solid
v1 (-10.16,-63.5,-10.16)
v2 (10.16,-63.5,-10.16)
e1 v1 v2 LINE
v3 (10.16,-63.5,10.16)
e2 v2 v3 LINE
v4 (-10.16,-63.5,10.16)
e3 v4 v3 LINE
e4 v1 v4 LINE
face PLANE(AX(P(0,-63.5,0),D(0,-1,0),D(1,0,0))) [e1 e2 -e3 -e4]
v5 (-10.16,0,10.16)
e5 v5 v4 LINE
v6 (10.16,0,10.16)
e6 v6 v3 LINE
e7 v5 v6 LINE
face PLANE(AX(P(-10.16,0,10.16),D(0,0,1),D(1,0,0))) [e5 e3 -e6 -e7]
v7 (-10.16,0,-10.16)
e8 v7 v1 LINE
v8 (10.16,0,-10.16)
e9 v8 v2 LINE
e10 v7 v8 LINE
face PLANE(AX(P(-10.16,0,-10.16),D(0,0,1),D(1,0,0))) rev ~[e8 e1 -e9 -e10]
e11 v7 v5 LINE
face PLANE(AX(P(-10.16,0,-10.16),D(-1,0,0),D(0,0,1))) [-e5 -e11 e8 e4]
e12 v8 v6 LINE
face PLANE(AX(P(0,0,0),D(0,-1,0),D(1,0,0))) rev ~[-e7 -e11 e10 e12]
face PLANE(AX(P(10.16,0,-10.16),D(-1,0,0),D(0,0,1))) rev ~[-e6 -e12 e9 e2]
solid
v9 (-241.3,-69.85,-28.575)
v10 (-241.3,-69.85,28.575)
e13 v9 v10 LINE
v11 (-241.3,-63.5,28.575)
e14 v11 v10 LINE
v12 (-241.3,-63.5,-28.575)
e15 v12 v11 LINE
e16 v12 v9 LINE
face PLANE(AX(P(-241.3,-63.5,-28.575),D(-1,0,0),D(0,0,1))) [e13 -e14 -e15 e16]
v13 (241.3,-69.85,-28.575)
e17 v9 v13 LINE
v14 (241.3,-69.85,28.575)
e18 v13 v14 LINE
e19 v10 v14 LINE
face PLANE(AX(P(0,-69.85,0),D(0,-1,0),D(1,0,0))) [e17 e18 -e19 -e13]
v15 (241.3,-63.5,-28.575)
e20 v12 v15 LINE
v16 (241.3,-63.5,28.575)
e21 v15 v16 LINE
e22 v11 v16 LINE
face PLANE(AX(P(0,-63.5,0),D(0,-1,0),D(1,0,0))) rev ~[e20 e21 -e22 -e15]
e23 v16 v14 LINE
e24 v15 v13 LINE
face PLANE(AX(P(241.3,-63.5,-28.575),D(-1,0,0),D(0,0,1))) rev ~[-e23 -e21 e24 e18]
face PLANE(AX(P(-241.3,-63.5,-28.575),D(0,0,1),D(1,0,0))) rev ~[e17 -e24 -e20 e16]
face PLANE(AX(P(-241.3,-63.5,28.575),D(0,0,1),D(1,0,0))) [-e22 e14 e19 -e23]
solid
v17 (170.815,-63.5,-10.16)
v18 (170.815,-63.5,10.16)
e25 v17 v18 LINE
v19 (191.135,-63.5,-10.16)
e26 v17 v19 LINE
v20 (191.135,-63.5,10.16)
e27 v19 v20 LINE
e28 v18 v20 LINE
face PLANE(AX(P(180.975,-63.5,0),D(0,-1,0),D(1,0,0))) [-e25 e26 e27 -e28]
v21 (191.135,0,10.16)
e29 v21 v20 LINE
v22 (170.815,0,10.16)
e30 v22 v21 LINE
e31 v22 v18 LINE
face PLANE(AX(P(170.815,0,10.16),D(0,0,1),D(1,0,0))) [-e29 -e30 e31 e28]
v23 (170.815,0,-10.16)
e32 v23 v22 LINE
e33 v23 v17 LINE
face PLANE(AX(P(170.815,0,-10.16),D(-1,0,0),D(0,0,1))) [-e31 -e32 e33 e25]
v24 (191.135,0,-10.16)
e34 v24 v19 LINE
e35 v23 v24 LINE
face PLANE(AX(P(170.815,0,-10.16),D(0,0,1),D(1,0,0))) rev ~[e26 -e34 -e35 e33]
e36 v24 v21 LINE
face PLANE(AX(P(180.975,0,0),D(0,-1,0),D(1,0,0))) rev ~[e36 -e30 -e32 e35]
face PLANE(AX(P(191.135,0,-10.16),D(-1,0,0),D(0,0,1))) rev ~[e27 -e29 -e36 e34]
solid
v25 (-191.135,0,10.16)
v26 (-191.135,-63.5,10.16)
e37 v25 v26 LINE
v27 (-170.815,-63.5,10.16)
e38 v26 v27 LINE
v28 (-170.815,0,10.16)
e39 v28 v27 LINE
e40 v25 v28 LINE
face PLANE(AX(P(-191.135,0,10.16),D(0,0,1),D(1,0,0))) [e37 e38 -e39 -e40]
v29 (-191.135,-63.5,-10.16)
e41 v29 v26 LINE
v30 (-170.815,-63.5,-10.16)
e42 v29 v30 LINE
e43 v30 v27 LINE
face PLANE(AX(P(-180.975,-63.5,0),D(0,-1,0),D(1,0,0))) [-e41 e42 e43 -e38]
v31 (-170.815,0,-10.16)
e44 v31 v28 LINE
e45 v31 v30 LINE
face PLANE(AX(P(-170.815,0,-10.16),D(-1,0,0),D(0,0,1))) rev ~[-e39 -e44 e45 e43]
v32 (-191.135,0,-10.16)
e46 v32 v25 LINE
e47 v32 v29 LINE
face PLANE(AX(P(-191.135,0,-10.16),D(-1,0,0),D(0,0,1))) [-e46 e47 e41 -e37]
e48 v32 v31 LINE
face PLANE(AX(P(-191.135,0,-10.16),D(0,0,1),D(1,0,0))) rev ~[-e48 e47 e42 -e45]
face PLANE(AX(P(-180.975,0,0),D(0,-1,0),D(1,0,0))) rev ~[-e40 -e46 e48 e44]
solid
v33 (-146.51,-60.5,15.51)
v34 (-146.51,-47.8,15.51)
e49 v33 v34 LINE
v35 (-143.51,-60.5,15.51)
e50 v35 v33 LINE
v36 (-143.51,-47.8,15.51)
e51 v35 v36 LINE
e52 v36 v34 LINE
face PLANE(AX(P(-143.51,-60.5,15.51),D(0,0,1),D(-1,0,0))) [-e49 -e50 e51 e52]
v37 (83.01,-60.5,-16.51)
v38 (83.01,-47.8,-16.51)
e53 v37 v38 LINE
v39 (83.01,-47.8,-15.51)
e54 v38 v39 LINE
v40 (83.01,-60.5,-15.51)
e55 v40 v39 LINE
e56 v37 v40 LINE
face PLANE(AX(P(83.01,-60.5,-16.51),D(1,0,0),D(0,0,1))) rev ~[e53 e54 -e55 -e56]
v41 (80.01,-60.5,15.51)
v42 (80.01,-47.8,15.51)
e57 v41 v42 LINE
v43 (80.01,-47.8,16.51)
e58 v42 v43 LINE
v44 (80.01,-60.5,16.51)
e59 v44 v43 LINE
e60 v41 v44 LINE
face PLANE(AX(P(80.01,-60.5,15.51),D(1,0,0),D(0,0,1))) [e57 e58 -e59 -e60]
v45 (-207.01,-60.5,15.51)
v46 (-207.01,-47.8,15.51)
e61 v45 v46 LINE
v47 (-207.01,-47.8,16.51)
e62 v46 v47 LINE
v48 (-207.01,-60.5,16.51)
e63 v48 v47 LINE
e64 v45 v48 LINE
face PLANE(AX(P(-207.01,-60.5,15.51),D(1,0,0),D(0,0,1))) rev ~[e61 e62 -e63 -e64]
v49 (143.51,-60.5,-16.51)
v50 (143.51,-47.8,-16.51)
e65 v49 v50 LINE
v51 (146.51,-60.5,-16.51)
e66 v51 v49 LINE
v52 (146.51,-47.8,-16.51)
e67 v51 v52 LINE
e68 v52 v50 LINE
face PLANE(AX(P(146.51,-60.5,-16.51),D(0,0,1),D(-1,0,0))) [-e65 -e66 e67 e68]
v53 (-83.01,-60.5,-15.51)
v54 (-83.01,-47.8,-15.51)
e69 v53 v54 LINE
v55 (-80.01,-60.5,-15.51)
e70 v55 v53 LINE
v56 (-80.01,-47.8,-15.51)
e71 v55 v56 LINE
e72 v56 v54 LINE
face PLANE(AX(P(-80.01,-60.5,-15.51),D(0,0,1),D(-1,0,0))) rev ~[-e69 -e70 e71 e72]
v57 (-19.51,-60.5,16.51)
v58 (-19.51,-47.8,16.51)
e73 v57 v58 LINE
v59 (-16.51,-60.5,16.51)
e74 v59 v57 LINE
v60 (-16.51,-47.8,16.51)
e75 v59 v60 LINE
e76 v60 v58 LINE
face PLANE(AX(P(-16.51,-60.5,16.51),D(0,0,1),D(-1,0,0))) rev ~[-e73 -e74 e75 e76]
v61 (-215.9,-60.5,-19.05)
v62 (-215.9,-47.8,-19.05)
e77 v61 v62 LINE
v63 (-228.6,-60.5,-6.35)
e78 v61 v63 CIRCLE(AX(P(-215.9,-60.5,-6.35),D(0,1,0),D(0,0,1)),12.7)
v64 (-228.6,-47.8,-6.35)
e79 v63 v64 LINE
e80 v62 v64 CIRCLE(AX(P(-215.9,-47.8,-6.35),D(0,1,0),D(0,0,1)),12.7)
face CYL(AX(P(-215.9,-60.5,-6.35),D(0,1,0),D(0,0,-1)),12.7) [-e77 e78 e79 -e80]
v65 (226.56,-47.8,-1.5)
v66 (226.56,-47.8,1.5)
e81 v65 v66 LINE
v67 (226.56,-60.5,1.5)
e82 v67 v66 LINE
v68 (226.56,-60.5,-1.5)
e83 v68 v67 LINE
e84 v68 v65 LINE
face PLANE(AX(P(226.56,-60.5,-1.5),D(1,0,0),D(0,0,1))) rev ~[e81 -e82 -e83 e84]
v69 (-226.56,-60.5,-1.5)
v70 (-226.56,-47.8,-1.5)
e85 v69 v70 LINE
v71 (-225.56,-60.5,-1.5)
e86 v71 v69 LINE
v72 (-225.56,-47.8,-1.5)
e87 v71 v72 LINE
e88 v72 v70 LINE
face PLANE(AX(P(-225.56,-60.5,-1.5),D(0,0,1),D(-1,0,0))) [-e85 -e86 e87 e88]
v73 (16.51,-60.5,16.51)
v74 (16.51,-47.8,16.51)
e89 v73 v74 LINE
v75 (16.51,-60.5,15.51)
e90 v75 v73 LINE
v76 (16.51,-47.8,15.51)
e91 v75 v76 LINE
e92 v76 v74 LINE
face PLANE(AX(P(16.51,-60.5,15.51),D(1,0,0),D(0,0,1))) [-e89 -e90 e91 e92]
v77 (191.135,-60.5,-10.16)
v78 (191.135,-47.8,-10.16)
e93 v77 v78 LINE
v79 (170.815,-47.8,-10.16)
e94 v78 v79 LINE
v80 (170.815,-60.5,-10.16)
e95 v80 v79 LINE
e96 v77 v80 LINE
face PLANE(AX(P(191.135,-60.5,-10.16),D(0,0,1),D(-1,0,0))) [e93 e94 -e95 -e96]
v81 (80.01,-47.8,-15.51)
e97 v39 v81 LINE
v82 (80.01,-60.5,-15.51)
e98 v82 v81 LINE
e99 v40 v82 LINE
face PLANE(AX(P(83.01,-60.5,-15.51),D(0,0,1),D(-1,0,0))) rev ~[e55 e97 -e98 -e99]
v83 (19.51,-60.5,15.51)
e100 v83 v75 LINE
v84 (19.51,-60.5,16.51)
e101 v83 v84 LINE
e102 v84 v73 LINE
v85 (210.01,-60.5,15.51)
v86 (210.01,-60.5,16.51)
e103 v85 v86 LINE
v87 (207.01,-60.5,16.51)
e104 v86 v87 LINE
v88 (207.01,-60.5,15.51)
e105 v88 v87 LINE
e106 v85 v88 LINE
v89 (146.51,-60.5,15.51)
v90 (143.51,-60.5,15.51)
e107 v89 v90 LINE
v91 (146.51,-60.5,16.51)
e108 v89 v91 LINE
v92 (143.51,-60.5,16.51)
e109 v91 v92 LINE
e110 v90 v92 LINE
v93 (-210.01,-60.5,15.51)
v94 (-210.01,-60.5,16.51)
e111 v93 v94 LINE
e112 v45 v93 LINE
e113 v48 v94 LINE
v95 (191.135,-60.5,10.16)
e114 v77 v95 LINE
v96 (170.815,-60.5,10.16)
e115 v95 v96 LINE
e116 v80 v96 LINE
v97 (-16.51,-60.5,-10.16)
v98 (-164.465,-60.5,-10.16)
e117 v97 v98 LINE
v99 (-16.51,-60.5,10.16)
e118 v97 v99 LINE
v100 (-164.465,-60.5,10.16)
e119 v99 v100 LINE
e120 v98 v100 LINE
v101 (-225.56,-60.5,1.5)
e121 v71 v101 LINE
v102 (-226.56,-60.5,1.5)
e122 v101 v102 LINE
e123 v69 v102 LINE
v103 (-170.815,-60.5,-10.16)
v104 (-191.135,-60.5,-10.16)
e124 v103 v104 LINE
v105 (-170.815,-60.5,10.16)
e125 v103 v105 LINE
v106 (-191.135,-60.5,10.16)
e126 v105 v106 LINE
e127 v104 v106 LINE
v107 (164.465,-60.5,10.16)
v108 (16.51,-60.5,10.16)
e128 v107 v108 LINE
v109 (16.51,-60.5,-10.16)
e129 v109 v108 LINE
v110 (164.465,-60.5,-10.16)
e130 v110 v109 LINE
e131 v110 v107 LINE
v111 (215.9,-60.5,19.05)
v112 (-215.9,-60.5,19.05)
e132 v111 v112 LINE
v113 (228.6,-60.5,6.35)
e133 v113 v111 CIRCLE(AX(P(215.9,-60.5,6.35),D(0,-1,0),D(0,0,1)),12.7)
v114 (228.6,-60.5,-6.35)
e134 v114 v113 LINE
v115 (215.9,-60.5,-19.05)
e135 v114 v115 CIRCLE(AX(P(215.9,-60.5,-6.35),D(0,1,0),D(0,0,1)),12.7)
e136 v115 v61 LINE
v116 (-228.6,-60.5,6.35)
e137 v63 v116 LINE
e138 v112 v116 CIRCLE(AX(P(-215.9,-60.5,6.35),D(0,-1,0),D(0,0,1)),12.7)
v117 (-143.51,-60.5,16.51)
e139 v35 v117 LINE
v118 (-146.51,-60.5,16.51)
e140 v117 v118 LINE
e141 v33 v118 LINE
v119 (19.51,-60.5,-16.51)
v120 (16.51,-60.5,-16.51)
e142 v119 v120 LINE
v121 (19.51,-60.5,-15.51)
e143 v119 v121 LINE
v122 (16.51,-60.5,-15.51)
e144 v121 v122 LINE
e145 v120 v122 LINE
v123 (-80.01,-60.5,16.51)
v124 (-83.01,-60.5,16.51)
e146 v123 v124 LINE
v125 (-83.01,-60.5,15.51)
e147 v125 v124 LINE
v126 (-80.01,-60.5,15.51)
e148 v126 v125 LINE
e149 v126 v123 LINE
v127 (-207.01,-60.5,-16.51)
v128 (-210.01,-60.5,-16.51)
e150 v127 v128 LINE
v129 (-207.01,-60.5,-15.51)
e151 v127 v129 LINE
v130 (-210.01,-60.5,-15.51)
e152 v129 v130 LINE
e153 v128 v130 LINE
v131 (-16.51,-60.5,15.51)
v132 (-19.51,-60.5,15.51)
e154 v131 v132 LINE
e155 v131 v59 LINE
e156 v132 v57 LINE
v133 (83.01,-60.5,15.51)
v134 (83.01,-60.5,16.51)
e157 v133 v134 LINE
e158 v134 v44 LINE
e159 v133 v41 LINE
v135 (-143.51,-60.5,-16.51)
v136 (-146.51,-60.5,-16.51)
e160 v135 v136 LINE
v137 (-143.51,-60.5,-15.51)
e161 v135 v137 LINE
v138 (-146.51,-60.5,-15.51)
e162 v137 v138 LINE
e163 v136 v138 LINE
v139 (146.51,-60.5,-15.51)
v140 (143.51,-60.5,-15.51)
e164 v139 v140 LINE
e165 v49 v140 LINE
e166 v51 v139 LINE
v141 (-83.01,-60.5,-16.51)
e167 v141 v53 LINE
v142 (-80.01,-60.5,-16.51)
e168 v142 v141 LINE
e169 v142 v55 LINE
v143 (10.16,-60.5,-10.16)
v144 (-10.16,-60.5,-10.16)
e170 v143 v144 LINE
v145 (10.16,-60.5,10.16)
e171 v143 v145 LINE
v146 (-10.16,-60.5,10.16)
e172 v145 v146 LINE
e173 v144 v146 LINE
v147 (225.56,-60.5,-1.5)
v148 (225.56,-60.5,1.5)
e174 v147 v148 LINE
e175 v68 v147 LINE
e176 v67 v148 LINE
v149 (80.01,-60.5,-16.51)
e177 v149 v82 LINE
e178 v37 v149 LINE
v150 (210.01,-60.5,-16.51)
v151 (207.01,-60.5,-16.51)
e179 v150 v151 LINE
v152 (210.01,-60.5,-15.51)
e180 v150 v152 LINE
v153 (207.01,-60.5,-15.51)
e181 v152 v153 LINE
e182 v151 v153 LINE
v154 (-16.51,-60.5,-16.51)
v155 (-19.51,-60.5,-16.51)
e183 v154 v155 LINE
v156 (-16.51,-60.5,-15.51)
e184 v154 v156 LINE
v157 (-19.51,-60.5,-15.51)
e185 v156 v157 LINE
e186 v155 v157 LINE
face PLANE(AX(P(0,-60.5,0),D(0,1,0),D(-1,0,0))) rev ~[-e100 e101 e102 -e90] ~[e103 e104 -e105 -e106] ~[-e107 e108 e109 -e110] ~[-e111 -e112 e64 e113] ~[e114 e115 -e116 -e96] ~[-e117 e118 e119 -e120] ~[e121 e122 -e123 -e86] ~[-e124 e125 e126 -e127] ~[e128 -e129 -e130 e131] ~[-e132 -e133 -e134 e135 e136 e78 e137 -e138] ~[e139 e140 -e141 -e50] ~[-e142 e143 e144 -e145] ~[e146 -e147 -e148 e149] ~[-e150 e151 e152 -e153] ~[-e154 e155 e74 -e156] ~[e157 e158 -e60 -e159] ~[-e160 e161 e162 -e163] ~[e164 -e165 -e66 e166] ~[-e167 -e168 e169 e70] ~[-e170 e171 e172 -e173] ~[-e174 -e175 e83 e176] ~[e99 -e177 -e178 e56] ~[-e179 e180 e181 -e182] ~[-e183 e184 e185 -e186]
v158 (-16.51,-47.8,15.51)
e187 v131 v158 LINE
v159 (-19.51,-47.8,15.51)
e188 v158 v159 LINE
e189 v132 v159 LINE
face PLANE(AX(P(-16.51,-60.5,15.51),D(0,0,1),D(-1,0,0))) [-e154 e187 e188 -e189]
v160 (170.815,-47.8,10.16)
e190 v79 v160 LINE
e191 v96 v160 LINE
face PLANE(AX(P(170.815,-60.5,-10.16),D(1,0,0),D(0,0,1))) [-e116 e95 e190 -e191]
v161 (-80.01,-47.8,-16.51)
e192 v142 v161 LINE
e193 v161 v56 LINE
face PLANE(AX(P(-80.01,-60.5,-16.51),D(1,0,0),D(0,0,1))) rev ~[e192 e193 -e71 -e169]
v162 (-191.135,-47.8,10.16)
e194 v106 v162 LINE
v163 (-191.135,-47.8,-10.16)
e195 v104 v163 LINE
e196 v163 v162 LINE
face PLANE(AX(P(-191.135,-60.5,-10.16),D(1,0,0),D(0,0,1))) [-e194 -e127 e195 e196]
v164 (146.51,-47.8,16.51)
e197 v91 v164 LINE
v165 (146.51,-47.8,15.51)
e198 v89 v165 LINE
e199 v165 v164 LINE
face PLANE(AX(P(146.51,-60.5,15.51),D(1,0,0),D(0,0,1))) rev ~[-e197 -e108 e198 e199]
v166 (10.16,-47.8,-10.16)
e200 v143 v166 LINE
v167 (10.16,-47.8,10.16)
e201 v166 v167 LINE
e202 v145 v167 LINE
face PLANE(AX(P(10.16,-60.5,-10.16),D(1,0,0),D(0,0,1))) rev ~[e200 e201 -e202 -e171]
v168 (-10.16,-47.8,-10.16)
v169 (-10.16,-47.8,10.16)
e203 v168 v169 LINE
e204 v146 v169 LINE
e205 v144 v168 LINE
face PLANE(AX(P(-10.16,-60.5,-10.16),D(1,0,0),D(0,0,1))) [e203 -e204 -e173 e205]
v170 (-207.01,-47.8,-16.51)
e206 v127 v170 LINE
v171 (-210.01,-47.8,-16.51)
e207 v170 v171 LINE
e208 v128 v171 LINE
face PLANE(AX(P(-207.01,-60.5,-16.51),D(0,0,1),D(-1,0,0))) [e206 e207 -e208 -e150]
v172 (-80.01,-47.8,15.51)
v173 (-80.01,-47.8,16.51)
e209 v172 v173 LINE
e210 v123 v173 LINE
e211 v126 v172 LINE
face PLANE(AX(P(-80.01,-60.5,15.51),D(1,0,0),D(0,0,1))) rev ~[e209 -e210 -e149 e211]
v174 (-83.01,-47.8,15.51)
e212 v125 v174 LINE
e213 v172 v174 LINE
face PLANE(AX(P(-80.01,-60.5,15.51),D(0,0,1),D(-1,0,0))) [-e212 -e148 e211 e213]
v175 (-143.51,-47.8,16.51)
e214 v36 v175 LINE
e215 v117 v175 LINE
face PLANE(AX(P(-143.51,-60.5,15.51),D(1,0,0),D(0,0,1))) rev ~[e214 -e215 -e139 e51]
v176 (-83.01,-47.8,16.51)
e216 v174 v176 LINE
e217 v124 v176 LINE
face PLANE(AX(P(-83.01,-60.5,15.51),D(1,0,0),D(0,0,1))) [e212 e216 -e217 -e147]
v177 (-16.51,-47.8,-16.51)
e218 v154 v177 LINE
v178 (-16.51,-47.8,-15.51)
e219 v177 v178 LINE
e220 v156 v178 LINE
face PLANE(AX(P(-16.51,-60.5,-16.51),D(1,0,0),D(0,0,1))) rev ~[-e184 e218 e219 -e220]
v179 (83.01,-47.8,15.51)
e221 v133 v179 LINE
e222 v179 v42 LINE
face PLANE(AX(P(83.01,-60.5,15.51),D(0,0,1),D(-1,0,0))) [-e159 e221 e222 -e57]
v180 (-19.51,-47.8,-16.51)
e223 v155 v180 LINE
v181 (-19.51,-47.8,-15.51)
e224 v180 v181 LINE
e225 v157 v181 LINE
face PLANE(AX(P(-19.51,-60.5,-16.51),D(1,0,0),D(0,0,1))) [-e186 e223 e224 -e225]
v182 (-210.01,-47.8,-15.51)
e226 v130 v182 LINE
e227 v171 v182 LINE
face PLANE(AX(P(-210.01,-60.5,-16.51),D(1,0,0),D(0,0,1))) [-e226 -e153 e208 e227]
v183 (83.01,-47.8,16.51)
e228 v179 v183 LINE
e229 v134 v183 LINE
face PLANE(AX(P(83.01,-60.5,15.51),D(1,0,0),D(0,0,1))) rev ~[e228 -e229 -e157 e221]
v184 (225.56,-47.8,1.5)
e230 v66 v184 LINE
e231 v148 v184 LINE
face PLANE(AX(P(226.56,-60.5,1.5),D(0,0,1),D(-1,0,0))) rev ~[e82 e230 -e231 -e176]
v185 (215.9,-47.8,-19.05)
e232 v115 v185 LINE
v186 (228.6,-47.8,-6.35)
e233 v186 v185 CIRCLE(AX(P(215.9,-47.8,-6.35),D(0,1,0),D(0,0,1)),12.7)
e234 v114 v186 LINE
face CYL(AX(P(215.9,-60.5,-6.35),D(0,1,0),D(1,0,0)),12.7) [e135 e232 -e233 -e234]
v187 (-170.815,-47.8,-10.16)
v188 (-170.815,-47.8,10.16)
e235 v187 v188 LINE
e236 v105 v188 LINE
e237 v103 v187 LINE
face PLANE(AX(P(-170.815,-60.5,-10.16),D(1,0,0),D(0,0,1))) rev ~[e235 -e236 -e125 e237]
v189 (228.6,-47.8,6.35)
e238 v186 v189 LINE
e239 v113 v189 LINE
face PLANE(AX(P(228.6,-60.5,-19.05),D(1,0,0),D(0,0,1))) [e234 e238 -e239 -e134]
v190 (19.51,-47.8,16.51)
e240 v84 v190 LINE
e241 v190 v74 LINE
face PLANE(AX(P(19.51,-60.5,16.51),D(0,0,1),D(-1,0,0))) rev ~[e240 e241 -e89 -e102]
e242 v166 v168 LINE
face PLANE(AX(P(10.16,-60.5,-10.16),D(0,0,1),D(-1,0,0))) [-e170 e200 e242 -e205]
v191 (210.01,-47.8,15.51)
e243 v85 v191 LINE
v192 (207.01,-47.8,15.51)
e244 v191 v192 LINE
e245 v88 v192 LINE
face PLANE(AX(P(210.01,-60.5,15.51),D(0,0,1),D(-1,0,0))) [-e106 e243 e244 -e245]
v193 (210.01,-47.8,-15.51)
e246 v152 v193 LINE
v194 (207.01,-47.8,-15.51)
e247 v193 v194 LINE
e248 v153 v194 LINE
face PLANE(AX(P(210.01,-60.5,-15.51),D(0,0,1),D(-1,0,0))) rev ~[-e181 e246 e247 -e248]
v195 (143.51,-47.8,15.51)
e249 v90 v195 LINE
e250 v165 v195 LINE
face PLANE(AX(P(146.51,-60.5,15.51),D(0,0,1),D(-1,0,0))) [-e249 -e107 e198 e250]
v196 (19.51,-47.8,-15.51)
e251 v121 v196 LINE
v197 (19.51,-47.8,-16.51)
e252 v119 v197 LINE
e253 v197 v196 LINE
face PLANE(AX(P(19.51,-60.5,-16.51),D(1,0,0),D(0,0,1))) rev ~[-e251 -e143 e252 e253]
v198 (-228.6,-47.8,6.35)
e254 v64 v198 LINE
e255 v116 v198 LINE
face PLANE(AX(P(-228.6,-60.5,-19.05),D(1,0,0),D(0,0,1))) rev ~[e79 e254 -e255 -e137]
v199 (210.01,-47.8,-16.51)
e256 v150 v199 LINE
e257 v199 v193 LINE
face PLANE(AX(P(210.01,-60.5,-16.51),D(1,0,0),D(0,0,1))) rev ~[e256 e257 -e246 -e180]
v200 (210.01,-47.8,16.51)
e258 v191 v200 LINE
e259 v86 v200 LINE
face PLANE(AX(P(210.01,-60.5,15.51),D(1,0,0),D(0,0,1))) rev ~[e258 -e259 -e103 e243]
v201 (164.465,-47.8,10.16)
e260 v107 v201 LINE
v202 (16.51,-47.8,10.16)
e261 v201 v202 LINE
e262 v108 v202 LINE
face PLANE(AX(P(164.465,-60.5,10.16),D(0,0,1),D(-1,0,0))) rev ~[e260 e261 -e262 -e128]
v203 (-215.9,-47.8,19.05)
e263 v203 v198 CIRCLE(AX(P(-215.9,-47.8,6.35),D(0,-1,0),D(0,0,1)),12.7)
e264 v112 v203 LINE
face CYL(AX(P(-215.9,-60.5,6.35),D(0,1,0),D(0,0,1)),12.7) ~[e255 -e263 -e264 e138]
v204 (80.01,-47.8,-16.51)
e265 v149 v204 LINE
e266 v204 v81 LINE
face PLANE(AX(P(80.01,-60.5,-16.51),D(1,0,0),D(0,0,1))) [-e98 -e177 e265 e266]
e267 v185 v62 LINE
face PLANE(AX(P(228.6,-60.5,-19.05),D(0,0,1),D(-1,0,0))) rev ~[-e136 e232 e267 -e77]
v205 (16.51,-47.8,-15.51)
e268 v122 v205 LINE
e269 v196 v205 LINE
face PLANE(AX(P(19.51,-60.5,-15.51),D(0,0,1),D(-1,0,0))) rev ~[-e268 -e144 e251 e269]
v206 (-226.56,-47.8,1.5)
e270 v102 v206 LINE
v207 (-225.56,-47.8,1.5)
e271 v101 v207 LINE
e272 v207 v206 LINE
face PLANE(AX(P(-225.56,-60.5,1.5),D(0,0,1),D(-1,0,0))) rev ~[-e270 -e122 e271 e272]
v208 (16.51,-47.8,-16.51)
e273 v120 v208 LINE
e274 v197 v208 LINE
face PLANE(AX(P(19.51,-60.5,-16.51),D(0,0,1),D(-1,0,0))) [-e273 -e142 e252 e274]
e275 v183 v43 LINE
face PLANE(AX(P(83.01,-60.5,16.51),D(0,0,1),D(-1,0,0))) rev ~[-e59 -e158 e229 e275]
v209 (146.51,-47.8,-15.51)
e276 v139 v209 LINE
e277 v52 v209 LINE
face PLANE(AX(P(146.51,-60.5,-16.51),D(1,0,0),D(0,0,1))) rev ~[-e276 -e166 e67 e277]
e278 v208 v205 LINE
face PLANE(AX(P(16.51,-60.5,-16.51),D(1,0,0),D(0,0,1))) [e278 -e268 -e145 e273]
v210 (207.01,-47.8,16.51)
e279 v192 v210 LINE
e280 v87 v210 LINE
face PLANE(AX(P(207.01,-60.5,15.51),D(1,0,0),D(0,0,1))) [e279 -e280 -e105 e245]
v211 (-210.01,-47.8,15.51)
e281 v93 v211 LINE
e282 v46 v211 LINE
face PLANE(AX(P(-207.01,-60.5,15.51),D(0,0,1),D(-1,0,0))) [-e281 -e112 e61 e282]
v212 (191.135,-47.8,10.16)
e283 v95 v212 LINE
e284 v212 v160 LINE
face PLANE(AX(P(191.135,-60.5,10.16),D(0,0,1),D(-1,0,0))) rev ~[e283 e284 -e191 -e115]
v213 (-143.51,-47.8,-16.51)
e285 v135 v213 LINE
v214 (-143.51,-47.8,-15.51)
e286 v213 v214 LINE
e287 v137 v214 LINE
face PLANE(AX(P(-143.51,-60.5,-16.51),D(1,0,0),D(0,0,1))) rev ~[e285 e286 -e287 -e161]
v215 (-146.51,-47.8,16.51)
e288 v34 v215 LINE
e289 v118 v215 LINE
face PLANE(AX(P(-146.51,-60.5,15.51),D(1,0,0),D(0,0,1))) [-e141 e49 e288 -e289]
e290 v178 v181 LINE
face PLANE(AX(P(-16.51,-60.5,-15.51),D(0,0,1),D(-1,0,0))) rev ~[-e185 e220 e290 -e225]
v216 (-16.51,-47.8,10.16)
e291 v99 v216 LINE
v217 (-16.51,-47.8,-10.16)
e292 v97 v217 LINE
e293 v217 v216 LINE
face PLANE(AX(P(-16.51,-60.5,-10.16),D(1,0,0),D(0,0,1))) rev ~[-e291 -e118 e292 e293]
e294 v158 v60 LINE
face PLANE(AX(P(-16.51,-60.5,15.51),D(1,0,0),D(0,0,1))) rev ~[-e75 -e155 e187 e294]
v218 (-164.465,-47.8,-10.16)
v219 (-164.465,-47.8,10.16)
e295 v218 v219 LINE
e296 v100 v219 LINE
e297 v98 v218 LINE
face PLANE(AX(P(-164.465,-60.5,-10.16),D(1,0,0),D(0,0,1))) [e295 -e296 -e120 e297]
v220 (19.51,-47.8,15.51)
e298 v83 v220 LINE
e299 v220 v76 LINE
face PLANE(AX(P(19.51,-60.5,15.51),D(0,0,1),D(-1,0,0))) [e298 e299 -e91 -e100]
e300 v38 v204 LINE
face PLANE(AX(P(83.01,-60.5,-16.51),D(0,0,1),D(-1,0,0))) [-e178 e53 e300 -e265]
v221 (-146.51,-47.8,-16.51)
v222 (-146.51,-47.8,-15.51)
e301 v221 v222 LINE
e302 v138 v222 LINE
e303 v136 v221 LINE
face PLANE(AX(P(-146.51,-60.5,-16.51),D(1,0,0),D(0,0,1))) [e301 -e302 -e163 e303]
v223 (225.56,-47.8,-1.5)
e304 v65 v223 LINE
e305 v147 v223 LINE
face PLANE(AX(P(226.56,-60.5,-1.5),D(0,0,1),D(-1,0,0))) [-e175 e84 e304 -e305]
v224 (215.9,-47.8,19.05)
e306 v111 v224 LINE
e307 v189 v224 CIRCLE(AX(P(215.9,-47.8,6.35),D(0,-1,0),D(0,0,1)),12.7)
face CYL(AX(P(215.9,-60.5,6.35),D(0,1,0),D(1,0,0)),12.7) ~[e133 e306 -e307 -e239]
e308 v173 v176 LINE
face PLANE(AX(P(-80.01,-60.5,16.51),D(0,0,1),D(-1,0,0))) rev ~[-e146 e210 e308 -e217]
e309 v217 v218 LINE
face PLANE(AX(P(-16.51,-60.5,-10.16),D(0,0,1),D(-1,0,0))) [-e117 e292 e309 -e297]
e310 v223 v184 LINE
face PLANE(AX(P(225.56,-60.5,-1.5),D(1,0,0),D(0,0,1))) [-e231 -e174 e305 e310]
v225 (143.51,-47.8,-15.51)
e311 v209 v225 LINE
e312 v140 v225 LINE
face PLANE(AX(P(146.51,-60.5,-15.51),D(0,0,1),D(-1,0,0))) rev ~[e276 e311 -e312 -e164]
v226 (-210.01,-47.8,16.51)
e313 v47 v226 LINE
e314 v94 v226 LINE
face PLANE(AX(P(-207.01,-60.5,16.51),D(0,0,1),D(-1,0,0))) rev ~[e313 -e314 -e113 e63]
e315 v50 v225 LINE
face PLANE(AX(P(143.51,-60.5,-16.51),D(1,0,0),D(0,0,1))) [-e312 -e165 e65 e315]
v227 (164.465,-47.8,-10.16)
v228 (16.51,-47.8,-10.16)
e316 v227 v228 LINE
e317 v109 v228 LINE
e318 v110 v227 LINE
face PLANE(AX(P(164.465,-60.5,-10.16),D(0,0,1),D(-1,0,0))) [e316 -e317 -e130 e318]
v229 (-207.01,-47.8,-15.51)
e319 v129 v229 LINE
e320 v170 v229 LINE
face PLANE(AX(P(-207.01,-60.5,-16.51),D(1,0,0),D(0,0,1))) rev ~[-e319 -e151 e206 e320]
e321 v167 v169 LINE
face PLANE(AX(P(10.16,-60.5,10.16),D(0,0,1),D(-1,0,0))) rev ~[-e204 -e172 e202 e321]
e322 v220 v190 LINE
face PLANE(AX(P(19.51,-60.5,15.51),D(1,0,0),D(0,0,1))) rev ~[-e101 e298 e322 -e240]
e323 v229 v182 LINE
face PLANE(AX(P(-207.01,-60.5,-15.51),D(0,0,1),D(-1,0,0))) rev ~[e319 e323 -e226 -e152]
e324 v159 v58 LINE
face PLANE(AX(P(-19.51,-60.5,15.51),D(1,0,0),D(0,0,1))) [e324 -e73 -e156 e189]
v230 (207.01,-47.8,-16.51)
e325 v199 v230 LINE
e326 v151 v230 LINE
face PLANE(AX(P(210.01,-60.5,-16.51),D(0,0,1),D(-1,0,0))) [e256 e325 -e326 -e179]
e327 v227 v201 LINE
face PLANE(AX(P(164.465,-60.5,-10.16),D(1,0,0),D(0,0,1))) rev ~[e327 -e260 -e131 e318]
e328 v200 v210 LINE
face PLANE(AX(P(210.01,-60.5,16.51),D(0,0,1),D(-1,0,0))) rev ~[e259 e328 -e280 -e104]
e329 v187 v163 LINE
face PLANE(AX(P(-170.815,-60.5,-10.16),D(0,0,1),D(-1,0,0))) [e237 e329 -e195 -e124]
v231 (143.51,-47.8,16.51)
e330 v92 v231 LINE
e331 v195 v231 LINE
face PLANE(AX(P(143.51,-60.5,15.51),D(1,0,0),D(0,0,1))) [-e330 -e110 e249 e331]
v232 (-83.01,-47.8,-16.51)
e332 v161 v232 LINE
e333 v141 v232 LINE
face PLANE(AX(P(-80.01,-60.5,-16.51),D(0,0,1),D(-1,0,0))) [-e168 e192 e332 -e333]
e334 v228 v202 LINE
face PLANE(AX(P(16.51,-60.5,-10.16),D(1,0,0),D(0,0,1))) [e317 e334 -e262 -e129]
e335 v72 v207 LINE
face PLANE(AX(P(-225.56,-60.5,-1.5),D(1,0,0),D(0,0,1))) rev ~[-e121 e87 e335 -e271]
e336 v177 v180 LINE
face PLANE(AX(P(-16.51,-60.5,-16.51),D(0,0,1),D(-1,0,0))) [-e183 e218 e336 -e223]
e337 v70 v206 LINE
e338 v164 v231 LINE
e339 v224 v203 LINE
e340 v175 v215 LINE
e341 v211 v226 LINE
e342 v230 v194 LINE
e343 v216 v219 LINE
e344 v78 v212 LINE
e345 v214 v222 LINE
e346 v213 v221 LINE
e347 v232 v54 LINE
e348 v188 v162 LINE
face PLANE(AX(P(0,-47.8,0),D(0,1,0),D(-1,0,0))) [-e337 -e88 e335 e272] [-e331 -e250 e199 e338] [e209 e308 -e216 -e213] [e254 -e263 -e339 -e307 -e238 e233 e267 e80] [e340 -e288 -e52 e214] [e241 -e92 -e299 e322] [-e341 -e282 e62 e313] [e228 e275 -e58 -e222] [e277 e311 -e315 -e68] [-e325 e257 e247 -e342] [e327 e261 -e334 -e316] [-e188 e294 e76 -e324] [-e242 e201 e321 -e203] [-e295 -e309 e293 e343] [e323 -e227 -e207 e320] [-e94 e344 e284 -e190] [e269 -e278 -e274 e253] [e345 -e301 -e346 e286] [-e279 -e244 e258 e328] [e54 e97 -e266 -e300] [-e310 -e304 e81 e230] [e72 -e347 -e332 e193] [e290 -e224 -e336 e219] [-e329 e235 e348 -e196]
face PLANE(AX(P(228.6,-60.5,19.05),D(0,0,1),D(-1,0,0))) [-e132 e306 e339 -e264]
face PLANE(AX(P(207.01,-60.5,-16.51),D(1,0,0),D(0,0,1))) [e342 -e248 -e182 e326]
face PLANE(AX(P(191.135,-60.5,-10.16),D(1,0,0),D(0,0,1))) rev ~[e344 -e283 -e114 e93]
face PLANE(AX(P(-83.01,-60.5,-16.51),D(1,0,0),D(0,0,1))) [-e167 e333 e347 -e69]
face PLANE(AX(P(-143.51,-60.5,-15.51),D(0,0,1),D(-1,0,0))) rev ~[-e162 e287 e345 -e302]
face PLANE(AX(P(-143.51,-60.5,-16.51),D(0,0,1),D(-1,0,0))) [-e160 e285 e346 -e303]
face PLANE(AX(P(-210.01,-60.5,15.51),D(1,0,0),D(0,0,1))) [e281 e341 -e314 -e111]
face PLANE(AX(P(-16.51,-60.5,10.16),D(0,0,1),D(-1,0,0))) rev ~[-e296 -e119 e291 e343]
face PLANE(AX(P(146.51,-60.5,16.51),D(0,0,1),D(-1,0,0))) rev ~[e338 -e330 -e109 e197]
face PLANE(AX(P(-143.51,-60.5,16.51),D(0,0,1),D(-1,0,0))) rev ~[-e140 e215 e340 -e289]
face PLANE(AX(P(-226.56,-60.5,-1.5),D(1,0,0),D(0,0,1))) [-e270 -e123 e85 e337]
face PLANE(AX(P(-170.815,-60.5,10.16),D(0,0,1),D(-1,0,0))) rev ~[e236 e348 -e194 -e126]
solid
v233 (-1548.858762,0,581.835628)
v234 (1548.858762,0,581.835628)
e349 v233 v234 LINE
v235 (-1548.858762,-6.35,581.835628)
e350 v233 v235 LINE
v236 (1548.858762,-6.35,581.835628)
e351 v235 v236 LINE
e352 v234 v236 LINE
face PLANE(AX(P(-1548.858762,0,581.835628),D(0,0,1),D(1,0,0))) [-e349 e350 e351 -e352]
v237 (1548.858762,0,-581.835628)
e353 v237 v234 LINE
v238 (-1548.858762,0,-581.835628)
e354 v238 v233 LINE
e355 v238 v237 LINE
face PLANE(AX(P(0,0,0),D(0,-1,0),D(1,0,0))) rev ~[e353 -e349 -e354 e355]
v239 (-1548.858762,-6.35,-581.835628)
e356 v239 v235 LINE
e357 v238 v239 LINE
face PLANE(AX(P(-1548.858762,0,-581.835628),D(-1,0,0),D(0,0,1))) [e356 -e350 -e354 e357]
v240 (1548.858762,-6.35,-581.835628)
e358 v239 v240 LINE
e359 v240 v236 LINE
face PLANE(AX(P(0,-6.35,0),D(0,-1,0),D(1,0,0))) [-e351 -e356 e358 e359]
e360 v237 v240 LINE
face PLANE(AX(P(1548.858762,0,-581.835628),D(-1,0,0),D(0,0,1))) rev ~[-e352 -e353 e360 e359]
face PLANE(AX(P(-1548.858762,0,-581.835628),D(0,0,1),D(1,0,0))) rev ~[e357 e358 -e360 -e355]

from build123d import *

# Parameters (mm, degrees)
F0_W     = 20.32
F0_H     = 20.32
F1_DEPTH = 63.5
F2_W     = 482.6
F2_H     = 57.15
F3_DEPTH = 6.35
F5_W     = 457.2
F5_H     = 38.1
F5_W_2   = 3
F5_H_2   = 1
F5_W_3   = 1
F5_H_3   = 3
F5_W_4   = 20.32
F5_H_4   = 20.32
F5_W_5   = 147.955
F6_DEPTH = 12.7
F7_R     = 12.7
F8_W     = 3097.7175235748
F8_H     = 1163.6712551117
F9_DEPTH = 6.35


with BuildPart() as f1:
    # F0 (on Front) → F1 (new body)
    with BuildSketch(Plane.XZ):
        Rectangle(F0_W, F0_H)
    extrude(amount=F1_DEPTH)


with BuildPart() as f1b:
    # F0 (on Front) → F1, piece 2 (new body)
    with BuildSketch(Plane.XZ):
        with Locations((180.975, 0)):
            Rectangle(F0_W, F0_H)
    extrude(amount=F1_DEPTH)


with BuildPart() as f1c:
    # F0 (on Front) → F1, piece 3 (new body)
    with BuildSketch(Plane.XZ):
        with Locations((-180.975, 0)):
            Rectangle(F0_W, F0_H)
    extrude(amount=F1_DEPTH)


with BuildPart() as f3:
    # F2 (on face) → F3 (new body)
    with BuildSketch(Plane.XZ.offset(63.5)):
        Rectangle(F2_W, F2_H)
    extrude(amount=F3_DEPTH)


with BuildPart() as f6:
    # F5 (on offset) → F6 (new body)
    with BuildSketch(Plane(origin=(0, -60.5, 0), x_dir=(-1, 0, 0), z_dir=(0, 1, 0))):
        Rectangle(F5_W, F5_H)
        with Locations((-208.51, -16.01)):
            Rectangle(F5_W_2, F5_H_2, mode=Mode.SUBTRACT)
        with Locations((-145.01, -16.01)):
            Rectangle(F5_W_2, F5_H_2, mode=Mode.SUBTRACT)
        with Locations((-81.51, -16.01)):
            Rectangle(F5_W_2, F5_H_2, mode=Mode.SUBTRACT)
        with Locations((-18.01, -16.01)):
            Rectangle(F5_W_2, F5_H_2, mode=Mode.SUBTRACT)
        with Locations((18.01, -16.01)):
            Rectangle(F5_W_2, F5_H_2, mode=Mode.SUBTRACT)
        with Locations((81.51, -16.01)):
            Rectangle(F5_W_2, F5_H_2, mode=Mode.SUBTRACT)
        with Locations((145.01, -16.01)):
            Rectangle(F5_W_2, F5_H_2, mode=Mode.SUBTRACT)
        with Locations((208.51, -16.01)):
            Rectangle(F5_W_2, F5_H_2, mode=Mode.SUBTRACT)
        with Locations((-226.06, 0)):
            Rectangle(F5_W_3, F5_H_3, mode=Mode.SUBTRACT)
        with Locations((-180.975, 0)):
            Rectangle(F5_W_4, F5_H_4, mode=Mode.SUBTRACT)
        with Locations((-90.4875, 0)):
            Rectangle(F5_W_5, F5_H_4, mode=Mode.SUBTRACT)
        with Locations((-208.51, 16.01)):
            Rectangle(F5_W_2, F5_H_2, mode=Mode.SUBTRACT)
        with Locations((-145.01, 16.01)):
            Rectangle(F5_W_2, F5_H_2, mode=Mode.SUBTRACT)
        with Locations((-81.51, 16.01)):
            Rectangle(F5_W_2, F5_H_2, mode=Mode.SUBTRACT)
        with Locations((-18.01, 16.01)):
            Rectangle(F5_W_2, F5_H_2, mode=Mode.SUBTRACT)
        Rectangle(F5_W_4, F5_H_4, mode=Mode.SUBTRACT)
        with Locations((90.4875, 0)):
            Rectangle(F5_W_5, F5_H_4, mode=Mode.SUBTRACT)
        with Locations((180.975, 0)):
            Rectangle(F5_W_4, F5_H_4, mode=Mode.SUBTRACT)
        with Locations((226.06, 0)):
            Rectangle(F5_W_3, F5_H_3, mode=Mode.SUBTRACT)
        with Locations((18.01, 16.01)):
            Rectangle(F5_W_2, F5_H_2, mode=Mode.SUBTRACT)
        with Locations((81.51, 16.01)):
            Rectangle(F5_W_2, F5_H_2, mode=Mode.SUBTRACT)
        with Locations((145.01, 16.01)):
            Rectangle(F5_W_2, F5_H_2, mode=Mode.SUBTRACT)
        with Locations((208.51, 16.01)):
            Rectangle(F5_W_2, F5_H_2, mode=Mode.SUBTRACT)
    extrude(amount=F6_DEPTH)

    # F7
    f7_edges = [f6.edges().sort_by_distance(p)[0] for p in [
        (228.6, -54.15, 19.05),
        (228.6, -54.15, -19.05),
        (-228.6, -54.15, 19.05),
        (-228.6, -54.15, -19.05),
    ]]
    fillet(f7_edges, radius=F7_R)


with BuildPart() as f9:
    # F8 (on Front) → F9 (new body)
    with BuildSketch(Plane.XZ):
        Rectangle(F8_W, F8_H)
    extrude(amount=F9_DEPTH)


solid = Compound([f1.part, f1b.part, f1c.part, f3.part, f6.part, f9.part])
